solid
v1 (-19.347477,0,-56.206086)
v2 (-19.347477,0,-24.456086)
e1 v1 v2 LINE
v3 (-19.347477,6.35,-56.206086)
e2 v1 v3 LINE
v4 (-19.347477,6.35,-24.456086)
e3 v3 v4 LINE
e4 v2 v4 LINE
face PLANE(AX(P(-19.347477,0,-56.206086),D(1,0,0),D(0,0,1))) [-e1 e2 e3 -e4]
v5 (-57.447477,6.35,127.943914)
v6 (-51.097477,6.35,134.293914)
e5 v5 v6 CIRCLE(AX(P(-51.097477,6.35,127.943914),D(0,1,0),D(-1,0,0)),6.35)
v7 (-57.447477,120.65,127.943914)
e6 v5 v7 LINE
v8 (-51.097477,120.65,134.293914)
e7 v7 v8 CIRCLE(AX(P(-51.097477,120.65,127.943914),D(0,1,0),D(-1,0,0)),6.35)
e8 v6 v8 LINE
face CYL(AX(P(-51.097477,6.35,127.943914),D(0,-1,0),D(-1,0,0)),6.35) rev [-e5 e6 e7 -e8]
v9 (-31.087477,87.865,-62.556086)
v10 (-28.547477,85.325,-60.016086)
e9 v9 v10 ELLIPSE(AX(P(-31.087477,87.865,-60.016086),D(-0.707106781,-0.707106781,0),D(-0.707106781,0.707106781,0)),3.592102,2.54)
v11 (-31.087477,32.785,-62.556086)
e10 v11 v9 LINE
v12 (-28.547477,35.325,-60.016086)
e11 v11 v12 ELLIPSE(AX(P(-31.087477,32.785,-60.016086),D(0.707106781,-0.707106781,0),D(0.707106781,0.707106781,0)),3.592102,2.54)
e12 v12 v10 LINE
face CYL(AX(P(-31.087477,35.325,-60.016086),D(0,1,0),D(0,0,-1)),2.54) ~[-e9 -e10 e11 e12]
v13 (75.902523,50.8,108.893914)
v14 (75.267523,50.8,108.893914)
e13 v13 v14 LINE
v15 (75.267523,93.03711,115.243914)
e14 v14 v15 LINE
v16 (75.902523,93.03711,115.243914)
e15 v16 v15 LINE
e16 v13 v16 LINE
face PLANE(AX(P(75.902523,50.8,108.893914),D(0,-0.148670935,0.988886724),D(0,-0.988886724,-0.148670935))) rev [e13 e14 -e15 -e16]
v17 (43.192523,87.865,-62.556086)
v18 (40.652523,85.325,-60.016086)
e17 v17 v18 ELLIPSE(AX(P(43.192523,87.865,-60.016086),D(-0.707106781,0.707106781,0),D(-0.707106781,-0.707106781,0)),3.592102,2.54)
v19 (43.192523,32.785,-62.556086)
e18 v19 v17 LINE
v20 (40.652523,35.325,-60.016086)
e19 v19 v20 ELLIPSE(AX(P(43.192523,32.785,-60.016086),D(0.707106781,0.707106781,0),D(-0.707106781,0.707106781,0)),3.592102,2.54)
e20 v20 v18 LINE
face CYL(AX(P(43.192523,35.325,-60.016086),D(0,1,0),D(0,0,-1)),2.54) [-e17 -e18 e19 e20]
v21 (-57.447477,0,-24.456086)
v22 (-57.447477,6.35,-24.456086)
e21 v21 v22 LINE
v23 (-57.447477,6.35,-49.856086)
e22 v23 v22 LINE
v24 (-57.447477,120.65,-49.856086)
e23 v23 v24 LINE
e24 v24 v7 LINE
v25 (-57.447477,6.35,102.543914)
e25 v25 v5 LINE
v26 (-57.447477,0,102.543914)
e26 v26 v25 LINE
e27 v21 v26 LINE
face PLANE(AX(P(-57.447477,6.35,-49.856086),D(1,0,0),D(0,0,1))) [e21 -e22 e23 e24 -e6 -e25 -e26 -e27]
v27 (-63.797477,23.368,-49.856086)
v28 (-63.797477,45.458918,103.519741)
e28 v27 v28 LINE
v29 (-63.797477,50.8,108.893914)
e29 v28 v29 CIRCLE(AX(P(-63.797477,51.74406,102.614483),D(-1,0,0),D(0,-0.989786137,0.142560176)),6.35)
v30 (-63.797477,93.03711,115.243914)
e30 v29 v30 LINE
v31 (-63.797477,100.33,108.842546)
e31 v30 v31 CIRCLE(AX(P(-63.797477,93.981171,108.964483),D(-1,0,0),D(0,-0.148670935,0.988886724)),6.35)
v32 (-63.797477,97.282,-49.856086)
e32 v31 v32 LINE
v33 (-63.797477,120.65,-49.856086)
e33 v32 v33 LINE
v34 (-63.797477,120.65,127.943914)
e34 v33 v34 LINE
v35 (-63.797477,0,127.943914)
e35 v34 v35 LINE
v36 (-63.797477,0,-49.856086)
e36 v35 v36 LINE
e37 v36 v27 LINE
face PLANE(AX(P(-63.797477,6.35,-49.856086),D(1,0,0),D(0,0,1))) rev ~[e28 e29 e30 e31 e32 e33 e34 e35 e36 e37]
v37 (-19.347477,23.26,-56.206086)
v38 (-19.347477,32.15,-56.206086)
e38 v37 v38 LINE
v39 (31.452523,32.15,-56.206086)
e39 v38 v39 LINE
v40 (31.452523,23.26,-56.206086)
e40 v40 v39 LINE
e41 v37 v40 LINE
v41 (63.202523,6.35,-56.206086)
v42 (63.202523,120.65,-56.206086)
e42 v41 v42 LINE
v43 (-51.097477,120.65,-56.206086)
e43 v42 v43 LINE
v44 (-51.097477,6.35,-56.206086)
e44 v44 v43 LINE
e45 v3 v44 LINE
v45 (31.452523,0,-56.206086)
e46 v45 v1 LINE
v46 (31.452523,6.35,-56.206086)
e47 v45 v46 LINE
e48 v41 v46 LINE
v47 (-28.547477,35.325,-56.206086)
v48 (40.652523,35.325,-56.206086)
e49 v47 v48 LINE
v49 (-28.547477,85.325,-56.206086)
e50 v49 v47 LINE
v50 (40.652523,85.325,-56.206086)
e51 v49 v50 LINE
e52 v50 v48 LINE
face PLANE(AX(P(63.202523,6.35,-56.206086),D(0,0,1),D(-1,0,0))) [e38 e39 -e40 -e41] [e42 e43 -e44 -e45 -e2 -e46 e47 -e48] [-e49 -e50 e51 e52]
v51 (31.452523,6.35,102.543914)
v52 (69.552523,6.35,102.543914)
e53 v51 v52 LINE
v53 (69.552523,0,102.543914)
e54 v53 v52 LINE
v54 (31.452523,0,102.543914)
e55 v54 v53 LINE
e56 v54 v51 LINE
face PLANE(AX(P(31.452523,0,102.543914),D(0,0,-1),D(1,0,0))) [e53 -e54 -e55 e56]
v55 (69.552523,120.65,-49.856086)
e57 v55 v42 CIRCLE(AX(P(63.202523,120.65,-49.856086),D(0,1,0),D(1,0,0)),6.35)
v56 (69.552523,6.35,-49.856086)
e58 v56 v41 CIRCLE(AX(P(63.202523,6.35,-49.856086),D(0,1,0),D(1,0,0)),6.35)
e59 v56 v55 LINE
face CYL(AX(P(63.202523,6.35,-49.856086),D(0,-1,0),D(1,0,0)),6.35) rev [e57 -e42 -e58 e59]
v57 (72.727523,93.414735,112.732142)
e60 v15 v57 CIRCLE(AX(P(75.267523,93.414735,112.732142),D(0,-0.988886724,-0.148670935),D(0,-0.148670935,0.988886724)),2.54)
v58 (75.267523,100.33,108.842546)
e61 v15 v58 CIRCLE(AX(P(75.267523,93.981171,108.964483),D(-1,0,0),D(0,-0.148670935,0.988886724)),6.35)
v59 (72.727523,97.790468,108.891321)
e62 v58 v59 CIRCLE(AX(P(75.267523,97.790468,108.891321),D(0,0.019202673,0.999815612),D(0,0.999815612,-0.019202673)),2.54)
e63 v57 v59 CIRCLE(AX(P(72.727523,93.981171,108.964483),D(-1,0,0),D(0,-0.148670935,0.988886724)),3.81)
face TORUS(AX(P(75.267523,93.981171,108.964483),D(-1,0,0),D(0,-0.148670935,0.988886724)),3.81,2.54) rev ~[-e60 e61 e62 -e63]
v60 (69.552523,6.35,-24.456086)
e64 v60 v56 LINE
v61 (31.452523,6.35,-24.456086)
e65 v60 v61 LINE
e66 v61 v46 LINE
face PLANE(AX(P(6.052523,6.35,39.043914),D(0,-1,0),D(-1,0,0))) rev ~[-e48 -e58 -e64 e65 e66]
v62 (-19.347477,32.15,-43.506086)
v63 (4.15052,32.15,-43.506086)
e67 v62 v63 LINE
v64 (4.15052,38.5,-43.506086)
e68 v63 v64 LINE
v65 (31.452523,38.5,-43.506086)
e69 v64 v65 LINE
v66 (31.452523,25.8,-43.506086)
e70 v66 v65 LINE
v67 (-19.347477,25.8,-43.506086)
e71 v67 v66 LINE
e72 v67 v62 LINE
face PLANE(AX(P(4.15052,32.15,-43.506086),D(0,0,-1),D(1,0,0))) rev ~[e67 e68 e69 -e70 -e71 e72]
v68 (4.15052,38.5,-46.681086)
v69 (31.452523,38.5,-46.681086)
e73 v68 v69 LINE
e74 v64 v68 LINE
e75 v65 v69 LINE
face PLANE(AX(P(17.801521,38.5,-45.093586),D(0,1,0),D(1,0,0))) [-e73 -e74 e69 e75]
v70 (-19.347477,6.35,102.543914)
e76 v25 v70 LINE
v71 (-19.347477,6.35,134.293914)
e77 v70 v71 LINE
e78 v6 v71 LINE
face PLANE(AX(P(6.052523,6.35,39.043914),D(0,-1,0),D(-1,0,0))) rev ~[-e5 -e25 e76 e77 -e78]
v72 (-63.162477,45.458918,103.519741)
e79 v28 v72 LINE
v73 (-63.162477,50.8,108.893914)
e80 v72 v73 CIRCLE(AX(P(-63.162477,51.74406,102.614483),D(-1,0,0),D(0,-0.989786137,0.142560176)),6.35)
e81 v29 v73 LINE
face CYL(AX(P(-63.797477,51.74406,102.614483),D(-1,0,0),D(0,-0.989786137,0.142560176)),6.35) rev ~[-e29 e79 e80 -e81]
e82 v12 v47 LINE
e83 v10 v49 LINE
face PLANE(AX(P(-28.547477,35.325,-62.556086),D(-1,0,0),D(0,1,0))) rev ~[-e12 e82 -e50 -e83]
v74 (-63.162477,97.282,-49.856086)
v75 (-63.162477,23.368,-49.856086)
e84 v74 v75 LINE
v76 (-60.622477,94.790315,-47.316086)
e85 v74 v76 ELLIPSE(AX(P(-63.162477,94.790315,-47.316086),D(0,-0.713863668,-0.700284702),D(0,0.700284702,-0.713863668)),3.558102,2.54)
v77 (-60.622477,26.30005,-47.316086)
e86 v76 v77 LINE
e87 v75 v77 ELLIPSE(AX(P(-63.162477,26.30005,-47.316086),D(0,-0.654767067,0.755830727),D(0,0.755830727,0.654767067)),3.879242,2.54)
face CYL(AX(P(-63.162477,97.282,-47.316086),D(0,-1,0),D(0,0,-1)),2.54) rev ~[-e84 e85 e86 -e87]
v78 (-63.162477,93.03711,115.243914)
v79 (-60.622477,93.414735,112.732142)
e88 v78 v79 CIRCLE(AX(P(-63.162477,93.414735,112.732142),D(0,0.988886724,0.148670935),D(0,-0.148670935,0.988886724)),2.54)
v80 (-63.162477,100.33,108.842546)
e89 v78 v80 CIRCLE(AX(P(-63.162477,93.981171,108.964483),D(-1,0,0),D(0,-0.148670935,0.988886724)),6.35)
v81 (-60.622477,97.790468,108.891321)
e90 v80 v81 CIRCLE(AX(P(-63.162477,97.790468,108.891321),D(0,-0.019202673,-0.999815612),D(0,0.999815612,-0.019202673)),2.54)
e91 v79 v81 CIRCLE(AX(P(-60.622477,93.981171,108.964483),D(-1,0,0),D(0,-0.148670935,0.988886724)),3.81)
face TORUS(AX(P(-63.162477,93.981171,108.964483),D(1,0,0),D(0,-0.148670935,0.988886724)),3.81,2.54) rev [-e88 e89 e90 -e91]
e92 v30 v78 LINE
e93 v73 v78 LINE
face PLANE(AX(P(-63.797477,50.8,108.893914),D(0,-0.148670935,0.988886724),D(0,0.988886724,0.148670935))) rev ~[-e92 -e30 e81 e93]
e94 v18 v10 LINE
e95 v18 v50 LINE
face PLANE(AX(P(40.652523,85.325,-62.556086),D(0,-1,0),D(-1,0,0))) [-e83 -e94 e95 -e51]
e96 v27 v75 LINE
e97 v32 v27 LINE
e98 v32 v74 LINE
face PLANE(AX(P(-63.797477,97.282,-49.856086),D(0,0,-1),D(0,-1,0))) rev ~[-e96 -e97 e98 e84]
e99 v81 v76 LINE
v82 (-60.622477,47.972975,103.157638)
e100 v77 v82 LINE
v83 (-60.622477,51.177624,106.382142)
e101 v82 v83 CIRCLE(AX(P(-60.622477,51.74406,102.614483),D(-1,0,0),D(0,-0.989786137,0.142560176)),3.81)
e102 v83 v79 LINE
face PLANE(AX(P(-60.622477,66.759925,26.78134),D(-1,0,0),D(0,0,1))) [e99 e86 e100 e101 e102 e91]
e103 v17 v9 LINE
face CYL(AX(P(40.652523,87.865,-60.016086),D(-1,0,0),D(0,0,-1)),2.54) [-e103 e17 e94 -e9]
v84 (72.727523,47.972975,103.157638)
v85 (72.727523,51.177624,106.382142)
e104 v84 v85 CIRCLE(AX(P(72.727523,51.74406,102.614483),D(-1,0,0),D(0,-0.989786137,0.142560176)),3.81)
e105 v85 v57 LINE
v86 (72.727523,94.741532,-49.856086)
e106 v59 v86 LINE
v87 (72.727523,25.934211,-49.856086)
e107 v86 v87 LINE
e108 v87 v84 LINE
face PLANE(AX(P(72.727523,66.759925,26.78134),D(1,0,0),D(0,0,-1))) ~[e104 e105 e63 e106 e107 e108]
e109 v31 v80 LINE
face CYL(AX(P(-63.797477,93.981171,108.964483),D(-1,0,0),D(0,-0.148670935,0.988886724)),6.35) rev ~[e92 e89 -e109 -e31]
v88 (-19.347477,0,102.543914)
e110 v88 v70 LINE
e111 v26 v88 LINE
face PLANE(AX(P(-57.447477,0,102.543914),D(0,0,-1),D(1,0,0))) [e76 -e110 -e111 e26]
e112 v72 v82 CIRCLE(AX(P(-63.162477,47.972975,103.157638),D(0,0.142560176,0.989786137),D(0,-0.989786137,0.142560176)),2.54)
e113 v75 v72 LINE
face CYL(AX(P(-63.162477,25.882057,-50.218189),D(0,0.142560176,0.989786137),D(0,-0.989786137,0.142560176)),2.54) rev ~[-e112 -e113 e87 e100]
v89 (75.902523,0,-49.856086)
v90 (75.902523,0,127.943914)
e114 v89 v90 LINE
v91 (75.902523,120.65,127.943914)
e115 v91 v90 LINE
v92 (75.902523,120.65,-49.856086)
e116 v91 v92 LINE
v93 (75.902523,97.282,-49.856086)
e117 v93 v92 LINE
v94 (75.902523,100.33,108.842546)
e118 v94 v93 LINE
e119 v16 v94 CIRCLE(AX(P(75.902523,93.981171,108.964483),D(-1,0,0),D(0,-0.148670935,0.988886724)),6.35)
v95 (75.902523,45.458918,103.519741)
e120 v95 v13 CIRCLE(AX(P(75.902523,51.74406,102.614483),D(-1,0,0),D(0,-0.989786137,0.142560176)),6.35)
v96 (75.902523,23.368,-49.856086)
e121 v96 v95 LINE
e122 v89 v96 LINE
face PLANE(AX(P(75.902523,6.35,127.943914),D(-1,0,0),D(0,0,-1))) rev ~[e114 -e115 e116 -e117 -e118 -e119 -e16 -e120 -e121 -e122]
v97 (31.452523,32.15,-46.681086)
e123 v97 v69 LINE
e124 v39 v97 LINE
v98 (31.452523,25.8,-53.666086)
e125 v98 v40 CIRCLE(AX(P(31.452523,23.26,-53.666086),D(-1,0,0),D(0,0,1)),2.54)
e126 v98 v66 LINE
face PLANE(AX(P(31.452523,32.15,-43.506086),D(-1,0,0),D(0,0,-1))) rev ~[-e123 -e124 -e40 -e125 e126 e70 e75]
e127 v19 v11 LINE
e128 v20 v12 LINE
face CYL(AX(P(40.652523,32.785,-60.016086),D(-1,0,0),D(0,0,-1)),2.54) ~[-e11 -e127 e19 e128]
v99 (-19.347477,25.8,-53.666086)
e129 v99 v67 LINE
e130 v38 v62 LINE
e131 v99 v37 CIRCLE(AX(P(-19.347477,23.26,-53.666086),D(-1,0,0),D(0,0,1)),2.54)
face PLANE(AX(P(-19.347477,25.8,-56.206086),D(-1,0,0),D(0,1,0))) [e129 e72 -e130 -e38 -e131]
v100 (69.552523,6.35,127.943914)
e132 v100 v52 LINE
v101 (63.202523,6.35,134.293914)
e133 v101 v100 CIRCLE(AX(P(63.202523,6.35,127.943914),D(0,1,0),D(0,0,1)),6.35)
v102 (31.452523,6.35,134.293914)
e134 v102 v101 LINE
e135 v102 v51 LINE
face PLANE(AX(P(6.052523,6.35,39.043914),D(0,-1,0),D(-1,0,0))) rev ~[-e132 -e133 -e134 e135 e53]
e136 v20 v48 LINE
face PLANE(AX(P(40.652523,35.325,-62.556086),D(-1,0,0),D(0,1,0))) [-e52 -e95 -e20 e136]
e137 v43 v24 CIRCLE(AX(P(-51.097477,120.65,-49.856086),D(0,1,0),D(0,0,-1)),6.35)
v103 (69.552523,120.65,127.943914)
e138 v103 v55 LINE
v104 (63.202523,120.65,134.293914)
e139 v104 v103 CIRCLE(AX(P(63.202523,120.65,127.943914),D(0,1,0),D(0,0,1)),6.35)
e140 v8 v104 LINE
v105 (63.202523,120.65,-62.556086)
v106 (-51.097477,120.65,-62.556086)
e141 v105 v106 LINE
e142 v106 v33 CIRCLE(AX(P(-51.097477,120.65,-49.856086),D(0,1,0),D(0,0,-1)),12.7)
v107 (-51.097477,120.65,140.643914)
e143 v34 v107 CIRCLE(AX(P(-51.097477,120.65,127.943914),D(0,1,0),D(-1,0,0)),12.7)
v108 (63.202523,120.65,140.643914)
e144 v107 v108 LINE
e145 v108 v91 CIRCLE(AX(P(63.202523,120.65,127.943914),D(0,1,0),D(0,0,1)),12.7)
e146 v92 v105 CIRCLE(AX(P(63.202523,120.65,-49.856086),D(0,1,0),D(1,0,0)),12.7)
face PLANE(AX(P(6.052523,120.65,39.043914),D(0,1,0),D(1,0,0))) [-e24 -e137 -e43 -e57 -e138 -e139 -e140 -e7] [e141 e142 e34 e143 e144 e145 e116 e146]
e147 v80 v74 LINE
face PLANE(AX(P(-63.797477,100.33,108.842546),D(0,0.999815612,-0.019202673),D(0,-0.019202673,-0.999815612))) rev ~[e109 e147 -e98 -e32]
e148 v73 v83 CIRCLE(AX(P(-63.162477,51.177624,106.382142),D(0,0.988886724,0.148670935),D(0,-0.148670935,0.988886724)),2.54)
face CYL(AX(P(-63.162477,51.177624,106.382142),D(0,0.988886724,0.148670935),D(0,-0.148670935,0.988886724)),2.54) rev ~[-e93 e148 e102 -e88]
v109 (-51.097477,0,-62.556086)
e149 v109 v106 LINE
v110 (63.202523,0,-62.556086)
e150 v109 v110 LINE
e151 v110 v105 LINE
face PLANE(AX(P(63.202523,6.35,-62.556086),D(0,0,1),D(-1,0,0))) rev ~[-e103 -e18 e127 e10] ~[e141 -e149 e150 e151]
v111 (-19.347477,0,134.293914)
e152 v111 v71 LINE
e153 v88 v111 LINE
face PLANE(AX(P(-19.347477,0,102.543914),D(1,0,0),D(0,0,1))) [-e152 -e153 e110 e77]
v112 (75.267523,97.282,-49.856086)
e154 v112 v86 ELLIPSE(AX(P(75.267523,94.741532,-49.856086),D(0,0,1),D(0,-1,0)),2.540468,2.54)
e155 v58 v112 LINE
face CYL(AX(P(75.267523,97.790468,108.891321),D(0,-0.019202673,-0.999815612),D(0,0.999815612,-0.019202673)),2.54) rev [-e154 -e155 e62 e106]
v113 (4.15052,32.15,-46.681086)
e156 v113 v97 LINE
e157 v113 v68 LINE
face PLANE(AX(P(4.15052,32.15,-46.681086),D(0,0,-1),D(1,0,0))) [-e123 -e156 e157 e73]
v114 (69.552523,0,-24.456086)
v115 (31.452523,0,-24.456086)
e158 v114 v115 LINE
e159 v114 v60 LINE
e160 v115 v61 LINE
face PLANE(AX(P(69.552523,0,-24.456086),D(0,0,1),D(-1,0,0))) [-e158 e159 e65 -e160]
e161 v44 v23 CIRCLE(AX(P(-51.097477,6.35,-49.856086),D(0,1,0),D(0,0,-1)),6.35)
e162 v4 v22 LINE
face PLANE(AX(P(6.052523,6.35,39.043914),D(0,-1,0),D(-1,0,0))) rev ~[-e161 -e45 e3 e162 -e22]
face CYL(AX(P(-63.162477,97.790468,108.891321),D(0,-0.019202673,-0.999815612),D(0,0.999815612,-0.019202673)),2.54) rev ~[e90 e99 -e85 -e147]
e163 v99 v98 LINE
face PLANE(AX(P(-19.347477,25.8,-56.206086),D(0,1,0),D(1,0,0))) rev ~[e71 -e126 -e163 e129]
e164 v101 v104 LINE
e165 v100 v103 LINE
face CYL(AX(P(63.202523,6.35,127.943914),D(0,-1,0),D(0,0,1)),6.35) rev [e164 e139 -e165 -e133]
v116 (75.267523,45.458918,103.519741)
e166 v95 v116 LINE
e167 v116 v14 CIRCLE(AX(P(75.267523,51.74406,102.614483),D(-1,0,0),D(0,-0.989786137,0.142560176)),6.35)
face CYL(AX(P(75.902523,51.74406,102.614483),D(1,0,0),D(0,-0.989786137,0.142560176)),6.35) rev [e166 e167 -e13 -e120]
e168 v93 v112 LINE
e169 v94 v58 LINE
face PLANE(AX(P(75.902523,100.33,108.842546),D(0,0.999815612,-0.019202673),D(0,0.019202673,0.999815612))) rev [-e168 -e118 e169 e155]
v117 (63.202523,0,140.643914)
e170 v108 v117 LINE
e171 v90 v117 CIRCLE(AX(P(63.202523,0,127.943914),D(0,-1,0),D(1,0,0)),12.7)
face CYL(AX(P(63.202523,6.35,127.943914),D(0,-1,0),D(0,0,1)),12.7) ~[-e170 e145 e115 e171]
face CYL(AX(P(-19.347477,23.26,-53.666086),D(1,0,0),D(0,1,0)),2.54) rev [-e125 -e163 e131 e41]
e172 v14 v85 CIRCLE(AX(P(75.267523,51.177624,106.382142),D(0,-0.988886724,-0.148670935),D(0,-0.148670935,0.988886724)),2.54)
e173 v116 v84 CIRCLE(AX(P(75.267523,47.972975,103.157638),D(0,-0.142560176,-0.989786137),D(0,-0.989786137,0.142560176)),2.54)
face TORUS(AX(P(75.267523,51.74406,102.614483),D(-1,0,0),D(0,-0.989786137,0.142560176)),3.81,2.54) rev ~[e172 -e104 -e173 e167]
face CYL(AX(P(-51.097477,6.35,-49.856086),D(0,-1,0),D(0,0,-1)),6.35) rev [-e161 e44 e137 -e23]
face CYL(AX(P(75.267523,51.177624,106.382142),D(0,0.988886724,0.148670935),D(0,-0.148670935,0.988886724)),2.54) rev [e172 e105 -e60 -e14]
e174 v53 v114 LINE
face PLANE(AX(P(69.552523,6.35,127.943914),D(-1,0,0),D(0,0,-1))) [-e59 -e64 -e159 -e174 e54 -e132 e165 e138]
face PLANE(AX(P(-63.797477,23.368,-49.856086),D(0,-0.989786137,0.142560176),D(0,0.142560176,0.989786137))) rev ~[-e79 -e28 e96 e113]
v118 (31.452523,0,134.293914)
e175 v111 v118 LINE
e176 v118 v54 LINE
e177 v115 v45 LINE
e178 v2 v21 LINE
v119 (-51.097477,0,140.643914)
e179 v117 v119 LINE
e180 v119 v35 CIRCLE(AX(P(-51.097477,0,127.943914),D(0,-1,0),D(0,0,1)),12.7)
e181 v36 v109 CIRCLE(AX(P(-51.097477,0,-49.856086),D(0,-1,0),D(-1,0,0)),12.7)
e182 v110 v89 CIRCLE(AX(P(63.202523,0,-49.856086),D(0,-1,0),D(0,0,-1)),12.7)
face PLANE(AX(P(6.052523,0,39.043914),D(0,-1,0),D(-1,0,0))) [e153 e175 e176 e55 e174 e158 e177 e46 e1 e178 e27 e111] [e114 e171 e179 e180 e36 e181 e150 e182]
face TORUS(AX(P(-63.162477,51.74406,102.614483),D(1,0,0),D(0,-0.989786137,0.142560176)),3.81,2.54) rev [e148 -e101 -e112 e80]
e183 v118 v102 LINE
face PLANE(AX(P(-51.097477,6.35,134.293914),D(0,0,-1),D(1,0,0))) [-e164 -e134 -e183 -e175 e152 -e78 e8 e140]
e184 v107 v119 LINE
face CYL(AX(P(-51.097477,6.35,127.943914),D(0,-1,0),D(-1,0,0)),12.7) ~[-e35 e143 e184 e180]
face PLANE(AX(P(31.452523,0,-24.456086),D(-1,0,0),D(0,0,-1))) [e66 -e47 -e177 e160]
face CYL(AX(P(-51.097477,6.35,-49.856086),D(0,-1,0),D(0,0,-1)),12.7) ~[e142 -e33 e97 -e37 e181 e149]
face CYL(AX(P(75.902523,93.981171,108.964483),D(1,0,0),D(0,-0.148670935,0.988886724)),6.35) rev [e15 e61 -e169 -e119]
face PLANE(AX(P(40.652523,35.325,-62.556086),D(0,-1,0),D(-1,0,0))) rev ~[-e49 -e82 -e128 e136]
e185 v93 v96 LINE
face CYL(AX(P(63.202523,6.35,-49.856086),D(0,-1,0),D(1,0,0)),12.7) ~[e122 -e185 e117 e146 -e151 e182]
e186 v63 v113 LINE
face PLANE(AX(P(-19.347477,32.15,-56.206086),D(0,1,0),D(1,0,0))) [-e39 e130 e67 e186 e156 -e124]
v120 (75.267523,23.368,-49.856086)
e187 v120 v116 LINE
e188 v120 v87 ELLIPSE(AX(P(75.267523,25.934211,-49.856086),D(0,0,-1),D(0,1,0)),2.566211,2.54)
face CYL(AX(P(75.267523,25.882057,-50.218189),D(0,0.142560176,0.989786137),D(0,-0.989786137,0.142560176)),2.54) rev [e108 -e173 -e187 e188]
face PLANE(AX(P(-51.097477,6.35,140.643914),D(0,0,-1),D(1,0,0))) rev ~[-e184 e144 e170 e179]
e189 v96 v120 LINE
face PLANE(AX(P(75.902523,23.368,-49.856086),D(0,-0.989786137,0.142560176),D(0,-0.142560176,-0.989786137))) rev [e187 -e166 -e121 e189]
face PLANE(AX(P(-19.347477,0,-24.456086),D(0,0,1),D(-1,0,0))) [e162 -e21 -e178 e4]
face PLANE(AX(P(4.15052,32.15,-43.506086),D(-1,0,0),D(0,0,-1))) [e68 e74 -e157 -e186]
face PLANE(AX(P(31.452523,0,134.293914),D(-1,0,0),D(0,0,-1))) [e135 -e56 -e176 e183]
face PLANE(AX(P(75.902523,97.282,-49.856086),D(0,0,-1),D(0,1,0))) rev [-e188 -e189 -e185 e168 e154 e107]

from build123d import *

# Parameters (mm, degrees)
BOSS_EXTRUDE1_DEPTH = 6.35
BOSS_EXTRUDE2_DEPTH = 114.3
SKETCH3_W           = 69.2
SKETCH3_H           = 50
CUT_EXTRUDE1_DEPTH  = 31.71
FILLET1_R           = 2.54
CUT_EXTRUDE2_DEPTH  = 3.175
FILLET2_R           = 2.54
SKETCH8_W           = 50.8
SKETCH8_H           = 6.35
BOSS_EXTRUDE3_DEPTH = 12.7
SKETCH9_W           = 27.302002056
SKETCH9_H           = 3.175
BOSS_EXTRUDE4_DEPTH = 6.35
FILLET4_R           = 2.54
FILLET5_R           = 2.54


with BuildPart() as part:
    # Sketch1 → Boss-Extrude1 (new body)
    with BuildSketch(Plane(origin=(0, 0, 0), x_dir=(1, 0, 0), z_dir=(0, 1, 0))):
        with BuildLine():
            Line((-51.097477477, 62.55608588), (63.202522523, 62.55608588))
            ThreePointArc((63.202522523, 62.55608588), (72.182778644, 58.836342002), (75.902522523, 49.85608588))
            Line((75.902522523, 49.85608588), (75.902522523, -127.94391412))
            ThreePointArc((75.902522523, -127.94391412), (72.182778644, -136.924170241), (63.202522523, -140.64391412))
            Line((63.202522523, -140.64391412), (-51.097477477, -140.64391412))
            ThreePointArc((-51.097477477, -140.64391412), (-60.077733599, -136.924170241), (-63.797477477, -127.94391412))
            Line((-63.797477477, -127.94391412), (-63.797477477, 49.85608588))
            ThreePointArc((-63.797477477, 49.85608588), (-60.077733599, 58.836342002), (-51.097477477, 62.55608588))
        make_face()
        Polygon((-57.447477477, 24.45608588), (-57.447477477, -102.54391412), (-19.347477477, -102.54391412), (-19.347477477, -134.29391412), (31.452522523, -134.29391412), (31.452522523, -102.54391412), (69.552522523, -102.54391412), (69.552522523, 24.45608588), (31.452522523, 24.45608588), (31.452522523, 56.20608588), (-19.347477477, 56.20608588), (-19.347477477, 24.45608588), align=None, mode=Mode.SUBTRACT)
    extrude(amount=BOSS_EXTRUDE1_DEPTH)

    # Sketch2 → Boss-Extrude2 (add)
    with BuildSketch(Plane(origin=(0, 6.35, 0), x_dir=(1, 0, 0), z_dir=(0, 1, 0))):
        with BuildLine():
            Line((75.902522523, -127.94391412), (75.902522523, 49.85608588))
            ThreePointArc((75.902522523, 49.85608588), (72.182778644, 58.836342002), (63.202522523, 62.55608588))
            Line((63.202522523, 62.55608588), (-51.097477477, 62.55608588))
            ThreePointArc((-51.097477477, 62.55608588), (-60.077733599, 58.836342002), (-63.797477477, 49.85608588))
            Line((-63.797477477, 49.85608588), (-63.797477477, -127.94391412))
            ThreePointArc((-63.797477477, -127.94391412), (-60.077733599, -136.924170241), (-51.097477477, -140.64391412))
            Line((-51.097477477, -140.64391412), (63.202522523, -140.64391412))
            ThreePointArc((63.202522523, -140.64391412), (72.182778644, -136.924170241), (75.902522523, -127.94391412))
        make_face()
        with BuildLine():
            Line((69.552522523, -127.94391412), (69.552522523, 49.85608588))
            ThreePointArc((69.552522523, 49.85608588), (67.692650583, 54.346213941), (63.202522523, 56.20608588))
            Line((63.202522523, 56.20608588), (-51.097477477, 56.20608588))
            ThreePointArc((-51.097477477, 56.20608588), (-55.587605538, 54.346213941), (-57.447477477, 49.85608588))
            Line((-57.447477477, 49.85608588), (-57.447477477, -127.94391412))
            ThreePointArc((-57.447477477, -127.94391412), (-55.587605538, -132.43404218), (-51.097477477, -134.29391412))
            Line((-51.097477477, -134.29391412), (63.202522523, -134.29391412))
            ThreePointArc((63.202522523, -134.29391412), (67.692650583, -132.43404218), (69.552522523, -127.94391412))
        make_face(mode=Mode.SUBTRACT)
    extrude(amount=BOSS_EXTRUDE2_DEPTH)

    # Sketch3 → Cut-Extrude1 (cut)
    with BuildSketch(Plane(origin=(0, 0, -62.55608588), x_dir=(-1, 0, 0), z_dir=(0, 0, -1))):
        with Locations((-6.052522523, 60.325)):
            Rectangle(SKETCH3_W, SKETCH3_H)
    extrude(amount=-CUT_EXTRUDE1_DEPTH, mode=Mode.SUBTRACT)

    # Fillet1
    fillet1_edges = [part.edges().sort_by_distance(p)[0] for p in [
        (6.052522523, 85.325, -62.55608588),
        (-28.547477477, 60.325, -62.55608588),
        (40.652522523, 60.325, -62.55608588),
        (6.052522523, 35.325, -62.55608588),
    ]]
    fillet(fillet1_edges, radius=FILLET1_R)

    # Sketch6 → Cut-Extrude2 (cut)
    with BuildSketch(Plane.ZY.offset(63.797477477)):
        with BuildLine():
            Line((-49.85608588, 23.368), (103.519740541, 45.45891847))
            ThreePointArc((103.519740541, 45.45891847), (107.09072322, 47.24008694), (108.89391412, 50.8))
            Line((108.89391412, 50.8), (115.24391412, 93.037110429))
            ThreePointArc((115.24391412, 93.037110429), (113.736824756, 98.170115624), (108.842546446, 100.33))
            Line((108.842546446, 100.33), (-49.85608588, 97.282))
            Line((-49.85608588, 97.282), (-49.85608588, 23.368))
        make_face()
    cut_extrude2 = extrude(amount=-CUT_EXTRUDE2_DEPTH, mode=Mode.SUBTRACT)

    # Fillet2
    fillet2_edges = [part.edges().sort_by_distance(p)[0] for p in [
        (-60.622477477, 98.170115624, 113.736824756),
        (-60.622477477, 71.918555214, 112.06891412),
        (-60.622477477, 47.24008694, 107.09072322),
        (-60.622477477, 34.413459235, 26.83182733),
        (-60.622477477, 60.325, -49.85608588),
        (-60.622477477, 98.806, 29.493230283),
    ]]
    fillet(fillet2_edges, radius=FILLET2_R)

    # Sketch8 → Boss-Extrude3 (add)
    with BuildSketch(Plane.XY.offset(-56.20608588)):
        with Locations((6.052522523, 28.975)):
            Rectangle(SKETCH8_W, SKETCH8_H)
    extrude(amount=BOSS_EXTRUDE3_DEPTH)

    # Sketch9 → Boss-Extrude4 (add)
    with BuildSketch(Plane(origin=(0, 32.15, 0), x_dir=(1, 0, 0), z_dir=(0, 1, 0))):
        with Locations((17.801521495, 45.09358588)):
            Rectangle(SKETCH9_W, SKETCH9_H)
    extrude(amount=BOSS_EXTRUDE4_DEPTH)

    # Fillet4
    fillet4_edges = [part.edges().sort_by_distance(p)[0] for p in [
        (6.052522523, 25.8, -56.20608588),
    ]]
    fillet(fillet4_edges, radius=FILLET4_R)

    # Mirror2: Cut-Extrude2 across plane
    add(cut_extrude2.mirror(Plane(origin=(6.052522523, 0, 0), x_dir=(0, 0, 1), z_dir=(1, 0, 0))), mode=Mode.SUBTRACT)

    # Fillet5
    fillet5_edges = [part.edges().sort_by_distance(p)[0] for p in [
        (72.727522523, 98.170115624, 113.736824756),
        (72.727522523, 98.806, 29.493230283),
        (72.727522523, 34.413459235, 26.83182733),
        (72.727522523, 47.24008694, 107.09072322),
        (72.727522523, 71.918555214, 112.06891412),
    ]]
    fillet(fillet5_edges, radius=FILLET5_R)


solid = part.part
